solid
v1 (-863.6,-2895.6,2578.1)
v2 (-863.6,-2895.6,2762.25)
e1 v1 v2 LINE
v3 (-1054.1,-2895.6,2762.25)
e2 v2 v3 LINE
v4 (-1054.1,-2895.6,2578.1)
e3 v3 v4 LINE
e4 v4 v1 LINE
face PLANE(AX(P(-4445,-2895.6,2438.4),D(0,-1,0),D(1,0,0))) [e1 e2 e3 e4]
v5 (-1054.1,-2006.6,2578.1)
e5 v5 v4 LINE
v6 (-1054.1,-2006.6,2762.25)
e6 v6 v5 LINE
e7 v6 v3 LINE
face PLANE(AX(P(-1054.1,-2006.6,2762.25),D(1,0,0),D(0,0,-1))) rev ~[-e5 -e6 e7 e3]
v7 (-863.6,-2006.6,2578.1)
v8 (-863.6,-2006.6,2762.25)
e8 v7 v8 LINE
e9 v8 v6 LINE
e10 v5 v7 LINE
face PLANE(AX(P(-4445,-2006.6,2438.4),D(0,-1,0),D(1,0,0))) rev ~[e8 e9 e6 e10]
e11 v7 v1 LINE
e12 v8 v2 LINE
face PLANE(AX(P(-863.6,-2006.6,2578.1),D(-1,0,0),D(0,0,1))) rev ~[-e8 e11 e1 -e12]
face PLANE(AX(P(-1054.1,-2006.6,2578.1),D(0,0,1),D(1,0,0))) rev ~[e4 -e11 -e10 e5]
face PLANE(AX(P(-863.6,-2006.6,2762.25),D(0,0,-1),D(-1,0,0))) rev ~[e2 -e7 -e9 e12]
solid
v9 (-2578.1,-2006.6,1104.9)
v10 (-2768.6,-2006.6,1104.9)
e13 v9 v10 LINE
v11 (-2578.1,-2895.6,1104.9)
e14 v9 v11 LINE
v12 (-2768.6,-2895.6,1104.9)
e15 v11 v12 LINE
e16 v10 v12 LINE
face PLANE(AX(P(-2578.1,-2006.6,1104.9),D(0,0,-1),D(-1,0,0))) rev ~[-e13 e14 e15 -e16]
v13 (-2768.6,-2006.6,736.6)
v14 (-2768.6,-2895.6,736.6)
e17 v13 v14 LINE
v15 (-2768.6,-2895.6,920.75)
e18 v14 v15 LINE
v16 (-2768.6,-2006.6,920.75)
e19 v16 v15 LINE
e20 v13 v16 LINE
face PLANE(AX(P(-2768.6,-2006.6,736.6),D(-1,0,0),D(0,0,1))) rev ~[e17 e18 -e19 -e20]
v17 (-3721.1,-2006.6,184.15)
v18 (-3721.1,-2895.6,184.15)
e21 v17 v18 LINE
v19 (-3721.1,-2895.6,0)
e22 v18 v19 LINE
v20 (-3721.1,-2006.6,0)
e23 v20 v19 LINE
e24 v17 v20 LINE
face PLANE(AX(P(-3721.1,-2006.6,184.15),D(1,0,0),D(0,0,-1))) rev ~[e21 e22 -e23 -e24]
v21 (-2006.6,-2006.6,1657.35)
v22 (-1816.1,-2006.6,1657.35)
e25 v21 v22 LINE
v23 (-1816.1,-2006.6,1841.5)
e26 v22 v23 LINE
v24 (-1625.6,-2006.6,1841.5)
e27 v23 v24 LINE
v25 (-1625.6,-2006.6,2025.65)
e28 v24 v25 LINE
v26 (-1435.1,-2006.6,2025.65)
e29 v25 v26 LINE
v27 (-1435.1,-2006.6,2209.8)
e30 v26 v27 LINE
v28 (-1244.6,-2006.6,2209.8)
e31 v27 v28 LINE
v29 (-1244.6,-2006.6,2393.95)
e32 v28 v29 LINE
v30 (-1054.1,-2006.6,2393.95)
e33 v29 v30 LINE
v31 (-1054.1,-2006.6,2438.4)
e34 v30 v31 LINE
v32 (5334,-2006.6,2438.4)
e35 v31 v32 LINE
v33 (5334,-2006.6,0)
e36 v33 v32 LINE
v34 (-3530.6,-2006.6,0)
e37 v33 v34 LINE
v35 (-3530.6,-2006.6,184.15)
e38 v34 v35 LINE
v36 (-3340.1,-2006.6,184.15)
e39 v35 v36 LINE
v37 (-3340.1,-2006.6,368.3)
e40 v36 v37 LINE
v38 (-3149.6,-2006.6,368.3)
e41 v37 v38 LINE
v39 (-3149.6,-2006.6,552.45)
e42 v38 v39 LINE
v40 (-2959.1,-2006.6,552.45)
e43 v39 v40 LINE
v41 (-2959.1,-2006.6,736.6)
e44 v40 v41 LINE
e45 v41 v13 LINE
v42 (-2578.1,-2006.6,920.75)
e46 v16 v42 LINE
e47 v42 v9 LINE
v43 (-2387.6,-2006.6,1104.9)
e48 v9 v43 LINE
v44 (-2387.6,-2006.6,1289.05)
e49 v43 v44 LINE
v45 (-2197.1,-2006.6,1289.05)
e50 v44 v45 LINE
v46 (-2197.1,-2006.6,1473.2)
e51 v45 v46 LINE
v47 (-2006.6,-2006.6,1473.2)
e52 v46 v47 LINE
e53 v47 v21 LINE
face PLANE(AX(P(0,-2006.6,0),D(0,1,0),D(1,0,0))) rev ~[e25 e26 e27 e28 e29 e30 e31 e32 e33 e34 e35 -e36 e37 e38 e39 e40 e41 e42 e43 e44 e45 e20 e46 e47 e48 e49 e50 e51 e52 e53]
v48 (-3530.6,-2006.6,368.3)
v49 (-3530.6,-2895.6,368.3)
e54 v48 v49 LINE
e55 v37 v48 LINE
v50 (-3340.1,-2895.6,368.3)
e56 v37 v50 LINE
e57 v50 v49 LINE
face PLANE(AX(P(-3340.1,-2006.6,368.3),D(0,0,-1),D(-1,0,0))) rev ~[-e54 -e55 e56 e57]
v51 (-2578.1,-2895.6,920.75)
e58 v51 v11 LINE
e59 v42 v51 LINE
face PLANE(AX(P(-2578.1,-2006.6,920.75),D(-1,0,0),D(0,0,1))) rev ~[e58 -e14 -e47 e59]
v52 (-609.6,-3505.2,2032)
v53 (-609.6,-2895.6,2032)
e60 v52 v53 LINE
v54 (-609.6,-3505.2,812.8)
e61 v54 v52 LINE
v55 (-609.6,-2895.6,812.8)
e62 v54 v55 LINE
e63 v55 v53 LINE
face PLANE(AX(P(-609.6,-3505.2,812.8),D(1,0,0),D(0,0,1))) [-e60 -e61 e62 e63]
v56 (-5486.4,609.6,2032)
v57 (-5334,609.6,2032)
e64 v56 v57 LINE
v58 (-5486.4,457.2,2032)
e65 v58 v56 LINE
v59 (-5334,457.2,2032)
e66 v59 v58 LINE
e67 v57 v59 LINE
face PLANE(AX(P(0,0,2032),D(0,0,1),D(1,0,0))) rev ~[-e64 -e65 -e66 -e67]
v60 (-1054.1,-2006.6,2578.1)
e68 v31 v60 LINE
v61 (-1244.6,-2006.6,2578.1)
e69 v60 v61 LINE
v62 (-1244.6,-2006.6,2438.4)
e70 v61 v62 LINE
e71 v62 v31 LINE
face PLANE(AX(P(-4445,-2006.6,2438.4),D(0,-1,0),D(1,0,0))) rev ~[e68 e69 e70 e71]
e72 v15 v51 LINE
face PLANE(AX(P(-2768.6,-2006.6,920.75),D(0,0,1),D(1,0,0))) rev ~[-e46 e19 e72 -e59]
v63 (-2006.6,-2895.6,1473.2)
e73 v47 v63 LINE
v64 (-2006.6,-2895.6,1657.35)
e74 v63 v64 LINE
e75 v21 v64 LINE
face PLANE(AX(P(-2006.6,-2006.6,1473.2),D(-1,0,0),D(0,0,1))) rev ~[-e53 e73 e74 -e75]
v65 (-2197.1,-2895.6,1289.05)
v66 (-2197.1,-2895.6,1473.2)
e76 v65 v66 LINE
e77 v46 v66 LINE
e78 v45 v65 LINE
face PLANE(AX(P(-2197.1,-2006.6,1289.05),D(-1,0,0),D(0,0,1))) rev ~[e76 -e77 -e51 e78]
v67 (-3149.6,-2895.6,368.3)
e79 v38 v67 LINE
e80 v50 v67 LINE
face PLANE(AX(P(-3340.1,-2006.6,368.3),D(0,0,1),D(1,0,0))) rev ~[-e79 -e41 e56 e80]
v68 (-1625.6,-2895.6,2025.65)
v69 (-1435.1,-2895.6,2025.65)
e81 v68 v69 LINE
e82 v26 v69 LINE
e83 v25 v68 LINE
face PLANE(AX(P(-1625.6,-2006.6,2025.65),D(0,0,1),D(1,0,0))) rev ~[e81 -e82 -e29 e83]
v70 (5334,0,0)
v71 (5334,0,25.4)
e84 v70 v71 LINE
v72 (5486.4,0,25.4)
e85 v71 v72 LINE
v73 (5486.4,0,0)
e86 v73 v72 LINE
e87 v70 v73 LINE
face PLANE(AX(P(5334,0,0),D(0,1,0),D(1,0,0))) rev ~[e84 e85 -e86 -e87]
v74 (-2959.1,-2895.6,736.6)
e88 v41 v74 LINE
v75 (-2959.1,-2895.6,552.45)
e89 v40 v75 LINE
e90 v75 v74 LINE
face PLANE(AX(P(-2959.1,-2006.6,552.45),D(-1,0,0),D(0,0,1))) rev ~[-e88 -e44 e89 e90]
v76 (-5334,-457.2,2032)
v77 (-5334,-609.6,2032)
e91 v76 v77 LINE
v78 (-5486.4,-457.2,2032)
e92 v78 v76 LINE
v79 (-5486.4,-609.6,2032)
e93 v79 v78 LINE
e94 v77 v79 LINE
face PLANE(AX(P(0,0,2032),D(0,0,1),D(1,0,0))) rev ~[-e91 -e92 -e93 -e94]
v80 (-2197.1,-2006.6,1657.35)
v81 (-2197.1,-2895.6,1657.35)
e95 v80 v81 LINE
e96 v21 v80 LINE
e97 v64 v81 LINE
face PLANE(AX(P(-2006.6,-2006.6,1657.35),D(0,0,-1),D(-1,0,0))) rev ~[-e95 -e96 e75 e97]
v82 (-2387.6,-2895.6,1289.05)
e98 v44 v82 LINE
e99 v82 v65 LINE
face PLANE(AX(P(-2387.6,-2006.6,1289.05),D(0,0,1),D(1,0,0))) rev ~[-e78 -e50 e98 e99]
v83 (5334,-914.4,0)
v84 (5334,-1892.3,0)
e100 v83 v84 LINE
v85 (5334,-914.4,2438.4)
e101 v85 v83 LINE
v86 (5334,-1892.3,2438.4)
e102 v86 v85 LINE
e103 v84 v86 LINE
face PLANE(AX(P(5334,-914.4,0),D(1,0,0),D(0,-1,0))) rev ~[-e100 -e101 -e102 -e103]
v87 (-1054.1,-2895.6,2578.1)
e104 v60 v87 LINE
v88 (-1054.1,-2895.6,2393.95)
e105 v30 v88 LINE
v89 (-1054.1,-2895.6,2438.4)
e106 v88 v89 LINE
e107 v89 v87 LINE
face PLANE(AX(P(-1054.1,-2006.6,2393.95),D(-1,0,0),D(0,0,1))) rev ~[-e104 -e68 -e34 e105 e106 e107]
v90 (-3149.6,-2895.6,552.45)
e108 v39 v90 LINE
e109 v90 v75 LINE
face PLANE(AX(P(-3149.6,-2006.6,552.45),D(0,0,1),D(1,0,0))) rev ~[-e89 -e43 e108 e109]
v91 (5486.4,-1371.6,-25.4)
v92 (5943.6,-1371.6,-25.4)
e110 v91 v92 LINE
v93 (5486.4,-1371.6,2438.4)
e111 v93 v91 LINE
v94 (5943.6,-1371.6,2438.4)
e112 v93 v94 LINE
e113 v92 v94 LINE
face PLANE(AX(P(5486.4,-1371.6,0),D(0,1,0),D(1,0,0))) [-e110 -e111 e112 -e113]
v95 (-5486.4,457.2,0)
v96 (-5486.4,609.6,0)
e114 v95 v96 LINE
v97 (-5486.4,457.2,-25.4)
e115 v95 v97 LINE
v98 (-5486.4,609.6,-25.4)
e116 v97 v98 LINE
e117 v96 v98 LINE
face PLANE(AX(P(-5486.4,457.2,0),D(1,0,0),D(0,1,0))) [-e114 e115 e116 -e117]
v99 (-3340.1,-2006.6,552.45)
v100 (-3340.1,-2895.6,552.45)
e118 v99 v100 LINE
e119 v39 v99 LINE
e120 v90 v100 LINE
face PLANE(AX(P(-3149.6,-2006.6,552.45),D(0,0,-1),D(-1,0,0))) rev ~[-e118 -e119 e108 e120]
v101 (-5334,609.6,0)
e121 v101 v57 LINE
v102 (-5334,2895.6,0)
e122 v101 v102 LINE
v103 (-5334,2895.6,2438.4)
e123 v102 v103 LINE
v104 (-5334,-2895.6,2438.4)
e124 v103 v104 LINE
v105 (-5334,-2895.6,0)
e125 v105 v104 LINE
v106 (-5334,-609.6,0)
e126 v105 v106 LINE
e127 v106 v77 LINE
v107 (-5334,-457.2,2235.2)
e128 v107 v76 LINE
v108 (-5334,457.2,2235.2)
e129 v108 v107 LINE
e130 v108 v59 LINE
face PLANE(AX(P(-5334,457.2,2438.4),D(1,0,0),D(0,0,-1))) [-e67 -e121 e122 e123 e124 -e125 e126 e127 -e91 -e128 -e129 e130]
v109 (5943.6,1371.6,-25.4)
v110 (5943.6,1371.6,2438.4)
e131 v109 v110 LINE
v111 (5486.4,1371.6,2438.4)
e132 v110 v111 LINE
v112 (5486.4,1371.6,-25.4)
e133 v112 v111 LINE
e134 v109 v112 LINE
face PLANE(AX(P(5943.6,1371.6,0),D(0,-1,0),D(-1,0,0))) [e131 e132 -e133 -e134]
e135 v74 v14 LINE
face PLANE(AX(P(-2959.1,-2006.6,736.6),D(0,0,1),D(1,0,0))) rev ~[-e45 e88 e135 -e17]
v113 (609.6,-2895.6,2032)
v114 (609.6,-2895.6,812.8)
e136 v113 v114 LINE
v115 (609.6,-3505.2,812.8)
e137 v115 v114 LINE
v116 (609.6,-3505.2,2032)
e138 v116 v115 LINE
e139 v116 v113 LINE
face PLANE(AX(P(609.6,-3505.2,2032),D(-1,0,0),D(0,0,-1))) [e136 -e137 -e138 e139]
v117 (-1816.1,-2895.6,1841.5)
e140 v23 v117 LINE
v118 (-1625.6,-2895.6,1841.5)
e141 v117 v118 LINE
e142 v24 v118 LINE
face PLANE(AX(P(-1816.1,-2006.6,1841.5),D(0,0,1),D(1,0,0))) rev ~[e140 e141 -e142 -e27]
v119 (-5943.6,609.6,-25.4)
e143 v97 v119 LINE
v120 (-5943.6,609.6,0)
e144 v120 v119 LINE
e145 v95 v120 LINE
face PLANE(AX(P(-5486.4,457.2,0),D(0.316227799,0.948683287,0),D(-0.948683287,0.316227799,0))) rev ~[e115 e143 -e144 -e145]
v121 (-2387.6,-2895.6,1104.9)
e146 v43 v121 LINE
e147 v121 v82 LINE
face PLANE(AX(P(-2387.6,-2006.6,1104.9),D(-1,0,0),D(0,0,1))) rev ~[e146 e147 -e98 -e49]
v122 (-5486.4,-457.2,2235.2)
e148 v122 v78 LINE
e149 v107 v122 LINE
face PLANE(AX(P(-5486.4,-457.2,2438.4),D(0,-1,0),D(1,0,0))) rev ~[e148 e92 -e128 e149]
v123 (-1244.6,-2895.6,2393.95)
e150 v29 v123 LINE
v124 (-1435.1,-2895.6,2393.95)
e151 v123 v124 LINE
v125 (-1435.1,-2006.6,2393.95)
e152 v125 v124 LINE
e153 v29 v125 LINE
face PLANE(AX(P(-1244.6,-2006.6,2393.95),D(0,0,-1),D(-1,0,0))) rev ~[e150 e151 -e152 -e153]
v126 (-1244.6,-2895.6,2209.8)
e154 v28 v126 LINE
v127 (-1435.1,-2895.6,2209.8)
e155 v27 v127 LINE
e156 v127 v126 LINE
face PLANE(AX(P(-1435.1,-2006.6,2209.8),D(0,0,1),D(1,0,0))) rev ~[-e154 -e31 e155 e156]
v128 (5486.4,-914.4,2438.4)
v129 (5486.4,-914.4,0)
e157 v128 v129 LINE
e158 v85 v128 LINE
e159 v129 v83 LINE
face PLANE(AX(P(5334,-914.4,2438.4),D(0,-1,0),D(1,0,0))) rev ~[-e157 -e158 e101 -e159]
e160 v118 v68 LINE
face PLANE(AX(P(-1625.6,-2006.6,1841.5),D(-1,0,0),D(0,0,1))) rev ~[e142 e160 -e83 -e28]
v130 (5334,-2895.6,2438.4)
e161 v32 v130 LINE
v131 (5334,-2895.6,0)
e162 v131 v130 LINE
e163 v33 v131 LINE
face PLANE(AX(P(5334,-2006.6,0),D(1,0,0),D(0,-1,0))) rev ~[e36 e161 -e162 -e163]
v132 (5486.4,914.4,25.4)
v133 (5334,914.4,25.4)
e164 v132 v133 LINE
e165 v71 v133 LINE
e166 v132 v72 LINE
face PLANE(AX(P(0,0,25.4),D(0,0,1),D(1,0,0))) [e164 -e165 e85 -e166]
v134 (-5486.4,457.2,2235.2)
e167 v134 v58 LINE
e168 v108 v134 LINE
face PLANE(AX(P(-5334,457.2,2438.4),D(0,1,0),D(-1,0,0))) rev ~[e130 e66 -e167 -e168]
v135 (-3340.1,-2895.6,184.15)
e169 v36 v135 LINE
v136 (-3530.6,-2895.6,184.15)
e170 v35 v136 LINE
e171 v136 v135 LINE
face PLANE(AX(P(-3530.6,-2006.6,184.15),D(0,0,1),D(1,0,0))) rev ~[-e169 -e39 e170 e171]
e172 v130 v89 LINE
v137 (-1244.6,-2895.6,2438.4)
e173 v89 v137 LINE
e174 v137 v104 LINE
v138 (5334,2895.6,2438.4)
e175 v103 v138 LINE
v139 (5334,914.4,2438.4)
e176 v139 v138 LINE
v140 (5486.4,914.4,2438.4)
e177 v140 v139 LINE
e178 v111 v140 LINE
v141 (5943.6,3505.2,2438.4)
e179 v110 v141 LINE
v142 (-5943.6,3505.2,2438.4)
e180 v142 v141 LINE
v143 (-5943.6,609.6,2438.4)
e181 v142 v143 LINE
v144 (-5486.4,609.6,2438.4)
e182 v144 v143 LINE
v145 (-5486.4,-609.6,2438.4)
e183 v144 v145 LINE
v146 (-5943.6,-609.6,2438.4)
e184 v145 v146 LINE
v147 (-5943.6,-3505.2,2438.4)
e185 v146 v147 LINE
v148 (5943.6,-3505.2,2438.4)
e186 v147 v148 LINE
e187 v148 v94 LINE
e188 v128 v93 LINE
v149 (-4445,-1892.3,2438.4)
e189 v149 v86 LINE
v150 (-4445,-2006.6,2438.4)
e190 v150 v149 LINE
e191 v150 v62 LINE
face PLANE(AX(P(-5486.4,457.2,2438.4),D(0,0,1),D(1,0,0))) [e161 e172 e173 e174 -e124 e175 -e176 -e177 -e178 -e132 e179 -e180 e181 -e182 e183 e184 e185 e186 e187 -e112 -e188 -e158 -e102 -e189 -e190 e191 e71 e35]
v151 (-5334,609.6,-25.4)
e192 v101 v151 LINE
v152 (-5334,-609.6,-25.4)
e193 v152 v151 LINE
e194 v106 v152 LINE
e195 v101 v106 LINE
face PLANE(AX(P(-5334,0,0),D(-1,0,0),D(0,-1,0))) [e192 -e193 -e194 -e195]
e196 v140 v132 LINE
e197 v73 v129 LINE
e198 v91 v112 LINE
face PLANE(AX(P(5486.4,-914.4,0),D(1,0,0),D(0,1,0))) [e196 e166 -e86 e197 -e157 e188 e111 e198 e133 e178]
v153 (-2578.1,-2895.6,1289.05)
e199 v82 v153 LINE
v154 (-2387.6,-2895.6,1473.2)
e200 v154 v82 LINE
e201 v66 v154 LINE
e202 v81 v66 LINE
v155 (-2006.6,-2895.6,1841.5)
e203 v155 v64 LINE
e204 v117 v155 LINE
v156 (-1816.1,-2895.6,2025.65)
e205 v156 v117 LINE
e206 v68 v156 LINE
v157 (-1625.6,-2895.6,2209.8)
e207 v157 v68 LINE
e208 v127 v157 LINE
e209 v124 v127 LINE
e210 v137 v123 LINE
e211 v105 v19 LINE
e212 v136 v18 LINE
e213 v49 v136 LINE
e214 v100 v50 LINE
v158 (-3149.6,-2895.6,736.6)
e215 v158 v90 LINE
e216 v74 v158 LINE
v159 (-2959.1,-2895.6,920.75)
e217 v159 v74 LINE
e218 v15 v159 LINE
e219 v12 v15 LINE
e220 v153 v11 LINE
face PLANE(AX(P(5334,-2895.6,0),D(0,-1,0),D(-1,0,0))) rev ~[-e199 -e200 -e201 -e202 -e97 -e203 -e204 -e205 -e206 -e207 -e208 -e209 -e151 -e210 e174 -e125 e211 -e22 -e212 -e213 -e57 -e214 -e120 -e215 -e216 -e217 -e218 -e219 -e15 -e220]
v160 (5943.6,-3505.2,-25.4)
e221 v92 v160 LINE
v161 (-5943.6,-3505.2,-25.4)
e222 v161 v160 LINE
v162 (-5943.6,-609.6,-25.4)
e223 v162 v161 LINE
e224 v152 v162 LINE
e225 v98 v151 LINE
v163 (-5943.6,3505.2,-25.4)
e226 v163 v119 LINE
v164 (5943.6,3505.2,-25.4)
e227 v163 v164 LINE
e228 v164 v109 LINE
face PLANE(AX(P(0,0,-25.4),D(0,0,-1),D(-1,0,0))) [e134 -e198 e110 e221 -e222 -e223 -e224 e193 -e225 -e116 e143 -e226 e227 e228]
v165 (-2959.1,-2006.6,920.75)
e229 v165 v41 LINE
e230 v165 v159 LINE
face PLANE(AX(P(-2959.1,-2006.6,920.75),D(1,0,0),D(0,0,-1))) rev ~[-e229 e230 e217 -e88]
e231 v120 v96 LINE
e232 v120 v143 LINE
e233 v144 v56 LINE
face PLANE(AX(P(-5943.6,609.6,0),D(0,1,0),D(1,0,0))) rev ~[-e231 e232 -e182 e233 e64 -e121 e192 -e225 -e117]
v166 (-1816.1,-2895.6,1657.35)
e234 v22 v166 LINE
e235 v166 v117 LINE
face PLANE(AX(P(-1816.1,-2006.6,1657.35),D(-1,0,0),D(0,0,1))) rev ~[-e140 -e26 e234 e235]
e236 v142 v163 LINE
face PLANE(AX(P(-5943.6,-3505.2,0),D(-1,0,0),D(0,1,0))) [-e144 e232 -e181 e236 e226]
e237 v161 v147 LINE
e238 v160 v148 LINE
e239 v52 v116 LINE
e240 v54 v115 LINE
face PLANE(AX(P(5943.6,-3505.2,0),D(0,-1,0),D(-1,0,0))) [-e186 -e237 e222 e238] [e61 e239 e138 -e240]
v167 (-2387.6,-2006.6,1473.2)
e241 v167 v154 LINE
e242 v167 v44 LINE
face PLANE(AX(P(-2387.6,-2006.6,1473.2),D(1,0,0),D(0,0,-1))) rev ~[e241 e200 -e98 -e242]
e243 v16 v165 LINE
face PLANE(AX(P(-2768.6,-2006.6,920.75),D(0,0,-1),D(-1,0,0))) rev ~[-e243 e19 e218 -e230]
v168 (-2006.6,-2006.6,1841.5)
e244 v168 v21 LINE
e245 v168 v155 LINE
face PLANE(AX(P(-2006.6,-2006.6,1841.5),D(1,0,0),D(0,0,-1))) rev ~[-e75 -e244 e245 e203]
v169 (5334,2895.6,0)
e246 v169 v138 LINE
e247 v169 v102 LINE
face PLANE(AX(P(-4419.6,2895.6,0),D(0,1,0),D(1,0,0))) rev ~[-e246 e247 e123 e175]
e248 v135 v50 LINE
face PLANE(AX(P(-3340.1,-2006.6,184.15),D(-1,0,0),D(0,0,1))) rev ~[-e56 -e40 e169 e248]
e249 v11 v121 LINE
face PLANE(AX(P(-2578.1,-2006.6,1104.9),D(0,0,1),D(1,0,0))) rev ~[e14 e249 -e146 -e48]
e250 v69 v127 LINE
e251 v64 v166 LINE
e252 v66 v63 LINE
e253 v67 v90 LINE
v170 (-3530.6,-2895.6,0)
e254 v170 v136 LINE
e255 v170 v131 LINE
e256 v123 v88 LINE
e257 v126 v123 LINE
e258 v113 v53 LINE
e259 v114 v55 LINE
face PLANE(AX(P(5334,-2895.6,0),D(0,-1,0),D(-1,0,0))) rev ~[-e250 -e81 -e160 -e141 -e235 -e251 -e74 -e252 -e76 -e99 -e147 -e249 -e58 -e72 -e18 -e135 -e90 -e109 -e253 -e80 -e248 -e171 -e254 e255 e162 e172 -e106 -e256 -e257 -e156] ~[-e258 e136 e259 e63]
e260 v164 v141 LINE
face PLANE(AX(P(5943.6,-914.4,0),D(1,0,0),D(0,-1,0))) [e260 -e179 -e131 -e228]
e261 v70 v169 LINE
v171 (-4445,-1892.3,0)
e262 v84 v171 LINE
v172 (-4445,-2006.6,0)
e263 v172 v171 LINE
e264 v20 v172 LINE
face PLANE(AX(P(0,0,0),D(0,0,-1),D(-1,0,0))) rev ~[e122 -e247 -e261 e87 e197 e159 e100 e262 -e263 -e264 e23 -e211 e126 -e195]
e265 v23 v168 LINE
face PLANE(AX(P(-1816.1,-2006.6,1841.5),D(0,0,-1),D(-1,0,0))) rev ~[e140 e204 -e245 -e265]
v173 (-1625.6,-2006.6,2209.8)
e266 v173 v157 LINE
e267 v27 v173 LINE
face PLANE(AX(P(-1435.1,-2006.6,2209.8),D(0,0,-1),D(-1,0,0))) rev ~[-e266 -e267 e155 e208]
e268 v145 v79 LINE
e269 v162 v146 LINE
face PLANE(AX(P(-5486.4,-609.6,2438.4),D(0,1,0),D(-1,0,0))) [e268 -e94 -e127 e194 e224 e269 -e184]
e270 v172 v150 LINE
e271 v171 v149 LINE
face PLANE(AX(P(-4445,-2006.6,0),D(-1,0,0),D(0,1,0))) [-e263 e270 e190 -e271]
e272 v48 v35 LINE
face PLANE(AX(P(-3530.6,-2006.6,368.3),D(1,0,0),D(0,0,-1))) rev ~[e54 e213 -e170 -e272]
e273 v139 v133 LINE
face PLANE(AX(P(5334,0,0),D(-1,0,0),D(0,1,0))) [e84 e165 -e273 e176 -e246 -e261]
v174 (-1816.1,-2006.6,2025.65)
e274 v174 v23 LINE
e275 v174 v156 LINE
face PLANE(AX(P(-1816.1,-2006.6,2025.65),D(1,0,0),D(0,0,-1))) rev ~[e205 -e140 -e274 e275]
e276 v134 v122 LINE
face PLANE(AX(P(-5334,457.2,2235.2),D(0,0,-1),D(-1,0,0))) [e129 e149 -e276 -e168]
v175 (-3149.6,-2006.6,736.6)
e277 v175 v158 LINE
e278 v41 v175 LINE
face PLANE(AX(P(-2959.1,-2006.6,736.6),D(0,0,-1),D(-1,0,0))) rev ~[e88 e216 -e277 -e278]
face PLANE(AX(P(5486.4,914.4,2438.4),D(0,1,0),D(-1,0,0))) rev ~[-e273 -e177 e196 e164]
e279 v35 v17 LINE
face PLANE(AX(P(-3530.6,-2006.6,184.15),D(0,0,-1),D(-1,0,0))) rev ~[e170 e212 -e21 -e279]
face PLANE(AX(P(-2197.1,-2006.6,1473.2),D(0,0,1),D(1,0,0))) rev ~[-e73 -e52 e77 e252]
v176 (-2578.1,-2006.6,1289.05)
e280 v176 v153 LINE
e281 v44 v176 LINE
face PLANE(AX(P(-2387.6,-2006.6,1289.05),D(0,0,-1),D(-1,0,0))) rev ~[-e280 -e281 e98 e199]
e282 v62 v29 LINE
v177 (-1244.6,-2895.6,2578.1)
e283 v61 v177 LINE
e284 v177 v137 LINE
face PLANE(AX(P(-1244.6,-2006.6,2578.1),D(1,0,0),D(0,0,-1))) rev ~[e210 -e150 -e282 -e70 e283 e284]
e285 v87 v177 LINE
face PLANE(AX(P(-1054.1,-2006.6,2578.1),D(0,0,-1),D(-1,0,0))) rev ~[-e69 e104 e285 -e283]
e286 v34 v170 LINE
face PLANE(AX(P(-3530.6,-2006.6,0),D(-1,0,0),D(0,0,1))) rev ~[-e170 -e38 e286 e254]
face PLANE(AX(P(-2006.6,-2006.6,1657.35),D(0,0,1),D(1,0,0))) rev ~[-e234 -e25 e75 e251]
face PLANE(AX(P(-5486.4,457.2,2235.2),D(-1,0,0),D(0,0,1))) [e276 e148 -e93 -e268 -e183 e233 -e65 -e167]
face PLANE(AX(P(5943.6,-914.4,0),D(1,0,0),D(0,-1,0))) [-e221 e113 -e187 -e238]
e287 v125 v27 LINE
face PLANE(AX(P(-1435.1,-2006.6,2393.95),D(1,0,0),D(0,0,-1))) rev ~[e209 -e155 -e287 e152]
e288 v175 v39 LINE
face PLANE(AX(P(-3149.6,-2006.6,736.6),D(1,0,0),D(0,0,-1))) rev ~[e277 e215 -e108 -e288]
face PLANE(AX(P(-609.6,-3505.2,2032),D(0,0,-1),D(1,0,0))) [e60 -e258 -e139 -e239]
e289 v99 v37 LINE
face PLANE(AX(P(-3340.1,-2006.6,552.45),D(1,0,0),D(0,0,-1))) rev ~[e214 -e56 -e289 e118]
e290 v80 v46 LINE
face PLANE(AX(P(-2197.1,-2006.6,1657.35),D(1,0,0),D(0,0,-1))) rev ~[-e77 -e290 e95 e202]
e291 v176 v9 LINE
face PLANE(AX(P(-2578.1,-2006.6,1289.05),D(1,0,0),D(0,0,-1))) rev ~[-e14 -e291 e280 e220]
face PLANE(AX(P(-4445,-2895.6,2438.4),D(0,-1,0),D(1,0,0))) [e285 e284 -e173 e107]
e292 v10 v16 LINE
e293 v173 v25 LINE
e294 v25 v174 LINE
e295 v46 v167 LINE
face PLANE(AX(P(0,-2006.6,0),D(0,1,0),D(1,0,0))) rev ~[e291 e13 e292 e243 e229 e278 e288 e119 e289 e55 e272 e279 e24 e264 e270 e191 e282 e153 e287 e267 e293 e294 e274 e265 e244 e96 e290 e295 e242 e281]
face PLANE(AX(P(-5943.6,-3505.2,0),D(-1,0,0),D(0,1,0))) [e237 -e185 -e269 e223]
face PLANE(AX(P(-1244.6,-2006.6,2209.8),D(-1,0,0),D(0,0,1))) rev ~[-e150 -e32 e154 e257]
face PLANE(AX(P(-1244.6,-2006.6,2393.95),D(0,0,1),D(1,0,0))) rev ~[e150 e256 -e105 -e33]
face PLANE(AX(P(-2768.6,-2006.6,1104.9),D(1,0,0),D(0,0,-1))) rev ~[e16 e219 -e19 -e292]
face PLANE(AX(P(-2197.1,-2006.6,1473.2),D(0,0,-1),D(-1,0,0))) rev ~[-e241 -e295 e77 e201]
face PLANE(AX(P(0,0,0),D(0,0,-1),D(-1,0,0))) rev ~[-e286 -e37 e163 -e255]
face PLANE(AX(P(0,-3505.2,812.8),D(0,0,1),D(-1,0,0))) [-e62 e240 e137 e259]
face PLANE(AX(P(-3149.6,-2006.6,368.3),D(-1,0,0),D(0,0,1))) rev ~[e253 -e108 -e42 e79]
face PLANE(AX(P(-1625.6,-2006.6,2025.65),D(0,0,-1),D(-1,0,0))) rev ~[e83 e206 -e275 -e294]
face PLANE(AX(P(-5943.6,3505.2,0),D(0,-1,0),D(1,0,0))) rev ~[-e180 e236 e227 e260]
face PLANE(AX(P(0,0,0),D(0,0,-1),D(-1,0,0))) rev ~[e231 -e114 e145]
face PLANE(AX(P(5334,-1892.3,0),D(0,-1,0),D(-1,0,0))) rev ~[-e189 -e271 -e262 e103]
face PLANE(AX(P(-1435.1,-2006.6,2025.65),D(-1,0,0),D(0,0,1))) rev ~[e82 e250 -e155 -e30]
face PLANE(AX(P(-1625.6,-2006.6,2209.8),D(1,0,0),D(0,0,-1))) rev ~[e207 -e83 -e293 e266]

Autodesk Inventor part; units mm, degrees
ref_plane "YZ Plane" through (0, 0, 0) normal (1, 0, 0) x (0, 1, 0)
ref_plane "XZ Plane" through (0, 0, 0) normal (0, 1, 0) x (-1, 0, 0)
ref_plane "XY Plane" through (0, 0, 0) normal (0, 0, 1) x (1, 0, 0)
sketch "Sketch1" plane through (0, 0, 0) normal (0, 0, 1) x (1, 0, 0)
  line L0 (-8321.04, 0) -> (8321.04, 0) projected
  line L1 (-5943.6, 3505.2) -> (5943.6, 3505.2)
  line L2 (-5334, 2895.6) -> (5334, 2895.6)
  line L3 (-4572, 2895.6) -> (-4419.6, 2895.6)
  line L4 (-1981.2, -2006.6) -> (-4445, -2006.6)
  line L5 (-4445, -2006.6) -> (-4445, -1892.3)
  line L6 (-1219.2, -2895.6) -> (-1066.8, -2895.6)
  line L7 (5334, -2895.6) -> (0, -2895.6)
  line L8 (0, -2895.6) -> (-5334, -2895.6)
  line L9 (5943.6, -3505.2) -> (0, -3505.2)
  line L10 (0, -3505.2) -> (-5943.6, -3505.2)
  line L11 (5334, 914.4) -> (5943.6, 914.4)
  line L12 (5943.6, -914.4) -> (5334, -914.4)
  line L13 (5334, 2895.6) -> (5334, 914.4)
  line L14 (5334, -914.4) -> (5334, -2895.6)
  line L15 (5943.6, 3505.2) -> (5943.6, 914.4)
  line L16 (5943.6, -914.4) -> (5943.6, -3505.2)
  line L17 (-4445, -2006.6) -> (5334, -2006.6)
  line L18 (5334, -1892.3) -> (-4445, -1892.3)
  line L19 (-4445, -1892.3) -> (-4445, -2006.6)
  line L20 (5334, -1892.3) -> (5334, -2006.6)
  line L21 (-5943.6, 609.6) -> (-5334, 609.6)
  line L22 (-5334, -609.6) -> (-5943.6, -609.6)
  line L23 (-5943.6, -3505.2) -> (-5943.6, -609.6)
  line L24 (-5943.6, 609.6) -> (-5943.6, 3505.2)
  line L25 (-5334, -2895.6) -> (-5334, -609.6)
  line L26 (-5334, 609.6) -> (-5334, 2895.6)
  line L27 (-4445, -2006.6) -> (-4419.6, -2006.6)
  line L28 (-4419.6, 2895.6) -> (-4572, 2895.6)
  line L29 (-4445, -1892.3) -> (-4445, -2006.6)
  line L30 (0, -4907.28) -> (0, 4907.28) projected
  dimension "d18" = 7010.4
  dimension "d19" = 609.6
  dimension "d20" = 609.6
  dimension "d23" = 1828.8
  dimension "d24" = 2590.8
  dimension "d25" = 609.6
  dimension "d28" = 114.3
  dimension "d29" = 0
  dimension "d34" = 1219.2
  dimension "d35" = 2895.6
  dimension "d36" = 609.6
  dimension "d46" = 889
  dimension "d105" = 889
  dimension "d106" = 11887.2
extrude "Extrusion9" add sketch "Sketch1" along normal blind 2438.4 contours L18 L14 L17 L30 | L30 L17 L4 L5 L18 | L1 L30 L2 L26 L21 L24 | L1 L15 L11 L13 L2 L30 | L14 L12 L16 L9 L30 L7 | L30 L10 L23 L22 L25 L8 L6
sketch "Sketch8" plane through (0, 0, 0) normal (0, 0, -1) x (-1, 0, 0)
  line L0 (5943.6, 3505.2) -> (-5943.6, 3505.2) projected
  line L1 (-5943.6, 3505.2) -> (-5943.6, 914.4) projected
  line L2 (-5943.6, 914.4) -> (-5334, 914.4) projected
  line L3 (-5334, 914.4) -> (-5334, 2895.6) projected
  line L4 (-5334, 2895.6) -> (5334, 2895.6) projected
  line L5 (5334, 2895.6) -> (5334, 609.6) projected
  line L6 (5334, 609.6) -> (5943.6, 609.6) projected
  line L7 (5943.6, 609.6) -> (5943.6, 3505.2) projected
  line L8 (-5943.6, 3505.2) -> (5943.6, 3505.2)
  line L9 (5943.6, 3505.2) -> (5943.6, -3505.2)
  line L10 (5943.6, -3505.2) -> (-5943.6, -3505.2)
  line L11 (-5943.6, -3505.2) -> (-5943.6, 3505.2)
  point P0 (0, 0)
extrude "Extrusion10" add sketch "Sketch8" along normal blind 25.4
sketch "Sketch9" plane through (0, 0, 2438.4) normal (0, 0, 1) x (1, 0, 0)
  line L0 (5943.6, 3505.2) -> (-5943.6, 3505.2) projected
  line L1 (-5943.6, 3505.2) -> (-5943.6, 609.6) projected
  line L2 (-5943.6, 609.6) -> (-5334, 609.6) projected
  line L3 (-5334, 609.6) -> (-5334, 2895.6) projected
  line L4 (-5334, 2895.6) -> (5334, 2895.6) projected
  line L5 (5334, 2895.6) -> (5334, 914.4) projected
  line L6 (5334, 914.4) -> (5943.6, 914.4) projected
  line L7 (5943.6, 914.4) -> (5943.6, 3505.2) projected
  line L8 (-5943.6, 609.6) -> (-5334, 609.6)
  line L9 (-5334, 609.6) -> (-5334, -609.6)
  line L10 (-5334, -609.6) -> (-5943.6, -609.6)
  line L11 (-5943.6, -609.6) -> (-5943.6, 609.6)
  line L12 (5334, 914.4) -> (5943.6, 914.4)
  line L13 (5943.6, 914.4) -> (5943.6, -914.4)
  line L14 (5943.6, -914.4) -> (5334, -914.4)
  line L15 (5334, -914.4) -> (5334, 914.4)
  point P0 (0, 0)
extrude "Extrusion11" add sketch "Sketch9" against normal blind 406.4 contours L13 L14 L15 L6 | L2 L9 L10 L11
sketch "Sketch10" plane through (-4445, -2006.6, 2438.4) normal (0, -1, 0) x (1, 0, 0)
  line L0 (0, -2438.4) -> (9779, -2438.4) projected
  line L1 (0, -2438.4) -> (0, 0) projected
  line L2 (723.9, -2438.4) -> (914.4, -2438.4)
  line L3 (914.4, -2438.4) -> (914.4, -2254.25)
  line L4 (914.4, -2254.25) -> (723.9, -2254.25)
  line L5 (723.9, -2254.25) -> (723.9, -2438.4)
  line L6 (914.4, -2254.25) -> (1104.9, -2254.25)
  line L7 (1104.9, -2254.25) -> (1104.9, -2070.1)
  line L8 (1104.9, -2070.1) -> (914.4, -2070.1)
  line L9 (914.4, -2070.1) -> (914.4, -2254.25)
  line L10 (1104.9, -2070.1) -> (1295.4, -2070.1)
  line L11 (1295.4, -2070.1) -> (1295.4, -1885.95)
  line L12 (1295.4, -1885.95) -> (1104.9, -1885.95)
  line L13 (1104.9, -1885.95) -> (1104.9, -2070.1)
  line L14 (1295.4, -1885.95) -> (1485.9, -1885.95)
  line L15 (1485.9, -1885.95) -> (1485.9, -1701.8)
  line L16 (1485.9, -1701.8) -> (1295.4, -1701.8)
  line L17 (1295.4, -1701.8) -> (1295.4, -1885.95)
  line L18 (1485.9, -1701.8) -> (1676.4, -1701.8)
  line L19 (1676.4, -1701.8) -> (1676.4, -1517.65)
  line L20 (1676.4, -1517.65) -> (1485.9, -1517.65)
  line L21 (1485.9, -1517.65) -> (1485.9, -1701.8)
  line L22 (1676.4, -1517.65) -> (1866.9, -1517.65)
  line L23 (1866.9, -1517.65) -> (1866.9, -1333.5)
  line L24 (1866.9, -1333.5) -> (1676.4, -1333.5)
  line L25 (1676.4, -1333.5) -> (1676.4, -1517.65)
  line L26 (1866.9, -1333.5) -> (2057.4, -1333.5)
  line L27 (2057.4, -1333.5) -> (2057.4, -1149.35)
  line L28 (2057.4, -1149.35) -> (1866.9, -1149.35)
  line L29 (1866.9, -1149.35) -> (1866.9, -1333.5)
  line L30 (2438.4, -965.2) -> (2438.4, -781.05)
  line L31 (2247.9, -1149.35) -> (2247.9, -965.2)
  line L32 (2247.9, -965.2) -> (2438.4, -965.2)
  line L33 (2438.4, -781.05) -> (2247.9, -781.05)
  line L34 (2247.9, -781.05) -> (2247.9, -965.2)
  line L35 (2057.4, -1149.35) -> (2247.9, -1149.35)
  line L36 (2247.9, -965.2) -> (2057.4, -965.2)
  line L37 (2057.4, -965.2) -> (2057.4, -1149.35)
  line L38 (2628.9, -781.05) -> (2628.9, -596.9)
  line L39 (2438.4, -781.05) -> (2628.9, -781.05)
  line L40 (2628.9, -596.9) -> (2438.4, -596.9)
  line L41 (2438.4, -596.9) -> (2438.4, -781.05)
  line L42 (3200.4, -228.6) -> (3200.4, -44.45)
  line L43 (3200.4, 139.7) -> (3200.4, -44.45)
  line L44 (3200.4, -44.45) -> (3390.9, -44.45)
  line L45 (3390.9, 139.7) -> (3200.4, 139.7)
  line L46 (3009.9, -44.45) -> (3009.9, -228.6)
  line L47 (3009.9, -228.6) -> (3200.4, -228.6)
  line L48 (3200.4, -44.45) -> (3009.9, -44.45)
  line L49 (3390.9, -44.45) -> (3390.9, 139.7)
  line L50 (3009.9, -412.75) -> (3009.9, -228.6)
  line L51 (3009.9, -228.6) -> (2819.4, -228.6)
  line L52 (2819.4, -412.75) -> (3009.9, -412.75)
  line L53 (2819.4, -228.6) -> (2819.4, -412.75)
  line L54 (2819.4, -596.9) -> (2819.4, -412.75)
  line L55 (2819.4, -412.75) -> (2628.9, -412.75)
  line L56 (2628.9, -596.9) -> (2819.4, -596.9)
  line L57 (2628.9, -412.75) -> (2628.9, -596.9)
  line L58 (3390.9, 139.7) -> (3581.4, 139.7)
  line L59 (3581.4, 139.7) -> (3581.4, 323.85)
  line L60 (3581.4, 323.85) -> (3390.9, 323.85)
  line L61 (3390.9, 323.85) -> (3390.9, 139.7)
  point P0 (8445.5, -2438.4)
  point P1 (4445, -2438.4)
  dimension "d113" = 190.5
  dimension "d115" = 184.15
  dimension "d116" = 723.9
  dimension "d117" = 190.5
  dimension "d118" = 184.15
  dimension "d119" = 190.5
  dimension "d120" = 184.15
  dimension "d121" = 190.5
  dimension "d122" = 184.15
  dimension "d123" = 190.5
  dimension "d124" = 184.15
  dimension "d125" = 190.5
  dimension "d126" = 184.15
  dimension "d127" = 190.5
  dimension "d128" = 184.15
  dimension "d129" = 190.5
  dimension "d130" = 184.15
  dimension "d131" = 190.5
  dimension "d132" = 184.15
  dimension "d133" = 190.5
  dimension "d134" = 184.15
  dimension "d135" = 190.5
  dimension "d136" = 184.15
  dimension "d137" = 190.5
  dimension "d138" = 184.15
  dimension "d139" = 190.5
  dimension "d140" = 184.15
  dimension "d141" = 190.5
  dimension "d142" = 184.15
  dimension "d154" = 184.15
  dimension "d155" = 190.5
extrude "Extrusion12" add sketch "Sketch10" along normal up to surface (889 mm away)
sketch "Sketch11" plane through (-5943.6, -3505.2, 2438.4) normal (0, -1, 0) x (1, 0, 0)
  line L0 (5334, -406.4) -> (6553.2, -406.4)
  line L1 (6553.2, -406.4) -> (6553.2, -1625.6)
  line L2 (6553.2, -1625.6) -> (5334, -1625.6)
  line L3 (5334, -1625.6) -> (5334, -406.4)
  line L4 (11277.6, -2438.4) -> (2413, -2438.4) projected
  line L5 (5943.6, -2956.56) -> (5943.6, 492.76) projected
  point P0 (5943.6, -2438.4)
  dimension "d145" = 1219.2
  dimension "d147" = 1219.2
  dimension "d148" = 812.8
extrude "Extrusion13" cut sketch "Sketch11" against normal up to surface (609.6 mm away)
sketch "Sketch14" plane through (0, 0, 2032) normal (0, 0, -1) x (-1, 0, 0)
  line L0 (-5334, -914.4) -> (-5334, 914.4) projected
  line L1 (-5943.6, 914.4) -> (-5943.6, -914.4) projected
  line L2 (-8321.04, 0) -> (8321.04, 0) projected
  line L3 (-5943.6, 12.7) -> (-5334, 12.7)
  line L4 (-5334, 12.7) -> (-5334, -12.7)
  line L5 (-5334, -12.7) -> (-5943.6, -12.7)
  line L6 (-5943.6, -12.7) -> (-5943.6, 12.7)
  point P0 (0, 0)
  dimension "d156" = 25.4
extrude "Extrusion15" add sketch "Sketch14" along normal blind 25.4
sketch "Sketch15" plane through (0, 0, 0) normal (0, 0, 1) x (1, 0, 0)
  line L0 (5334, -914.4) -> (5334, -1892.3) projected
  line L1 (5943.6, -914.4) -> (5334, -914.4) projected
  line L2 (5943.6, 914.4) -> (5334, 914.4) projected
  line L3 (5334, 914.4) -> (5334, 2895.6) projected
  line L4 (-5334, 2895.6) -> (-5334, 609.6) projected
  line L5 (-5334, -609.6) -> (-5943.6, -609.6) projected
  line L6 (-3721.1, -2895.6) -> (-5334, -2895.6) projected
  line L7 (-8321.04, 0) -> (8321.04, 0) projected
  circle A0 centre (-1778, 0) radius 152.4
  circle A1 centre (1778, 0) radius 152.4
  line L8 (-4445, -2006.6) -> (-5334, -2006.6)
  line L9 (-5334, -2006.6) -> (-5334, -2895.6)
  line L10 (-5334, -2895.6) -> (-4445, -2895.6)
  line L11 (-4445, -2895.6) -> (-4445, -2006.6)
  circle A2 centre (-4889.5, -2451.1) radius 152.4
  circle A3 centre (-5334, 0) radius 152.4
  line L12 (-5118.1, -215.9) -> (-5549.9, -215.9)
  line L13 (-5549.9, -215.9) -> (-5549.9, 215.9)
  line L14 (-5549.9, 215.9) -> (-5118.1, -215.9)
  circle A4 centre (5334, 457.2) radius 152.4
  line L15 (5549.9, 241.3) -> (5118.1, 241.3)
  line L16 (5118.1, 241.3) -> (5118.1, 673.1)
  line L17 (5118.1, 673.1) -> (5549.9, 241.3)
  circle A5 centre (5334, -457.2) radius 152.4
  line L18 (5549.9, -673.1) -> (5118.1, -673.1)
  line L19 (5118.1, -241.3) -> (5549.9, -673.1)
  line L20 (5118.1, -673.1) -> (5118.1, -241.3)
  line L21 (-4713.5236, -2146.3) -> (-4537.5473, -2451.1)
  line L22 (-4537.5473, -2451.1) -> (-4713.5236, -2755.9)
  line L23 (-4713.5236, -2755.9) -> (-5065.4764, -2755.9)
  line L24 (-5065.4764, -2755.9) -> (-5241.4527, -2451.1)
  line L25 (-5241.4527, -2451.1) -> (-5065.4764, -2146.3)
  line L26 (-5065.4764, -2146.3) -> (-4713.5236, -2146.3)
  line L27 (-5943.6, -3505.2) -> (-5943.6, 3505.2) projected
  line L28 (-5334, -609.6) -> (-5943.6, -609.6)
  line L29 (-5943.6, -609.6) -> (-5943.6, 609.6)
  line L30 (-5943.6, 609.6) -> (-5334, 609.6)
  line L31 (-5334, 609.6) -> (-5334, -609.6)
  line L32 (-5486.4, 609.6) -> (-5334, 609.6)
  line L33 (-5334, 609.6) -> (-5334, 457.2)
  line L34 (-5334, 457.2) -> (-5486.4, 457.2)
  line L35 (-5486.4, 457.2) -> (-5486.4, 609.6)
  line L36 (-5334, -609.6) -> (-5486.4, -609.6)
  line L37 (-5486.4, -609.6) -> (-5486.4, -457.2)
  line L38 (-5486.4, -457.2) -> (-5334, -457.2)
  line L39 (-5334, -457.2) -> (-5334, -609.6)
  line L40 (5943.6, 3505.2) -> (5943.6, -3505.2) projected
  line L41 (5486.4, 914.4) -> (5943.6, 914.4)
  line L42 (5943.6, 914.4) -> (5943.6, 1371.6)
  line L43 (5943.6, 1371.6) -> (5486.4, 1371.6)
  line L44 (5486.4, 1371.6) -> (5486.4, 914.4)
  line L45 (5943.6, -914.4) -> (5486.4, -914.4)
  line L46 (5486.4, -914.4) -> (5486.4, -1371.6)
  line L47 (5486.4, -1371.6) -> (5943.6, -1371.6)
  line L48 (5943.6, -1371.6) -> (5943.6, -914.4)
  line L49 (5486.4, 914.4) -> (6132.9784, 1560.9784)
  line L50 (6132.9784, 1560.9784) -> (6240.7415, 1453.2154)
  line L51 (6240.7415, 1453.2154) -> (5594.1631, 806.6369)
  line L52 (5486.4, 914.4) -> (5594.1631, 806.6369)
  line L53 (5486.4, -914.4) -> (6132.9784, -1560.9784)
  line L54 (6132.9784, -1560.9784) -> (6240.7415, -1453.2154)
  line L55 (6240.7415, -1453.2154) -> (5594.1631, -806.6369)
  line L56 (5486.4, -914.4) -> (5594.1631, -806.6369)
  line L57 (5486.4, 1371.6) -> (5943.6, 1371.6)
  line L58 (5943.6, 1371.6) -> (5943.6, -1371.6)
  line L59 (5943.6, -1371.6) -> (5486.4, -1371.6)
  line L60 (5486.4, -1371.6) -> (5486.4, 1371.6)
  line L61 (-5486.4, 457.2) -> (-6353.876, 746.3587)
  line L62 (-6353.876, 746.3587) -> (-6402.0691, 601.7793)
  line L63 (-6402.0691, 601.7793) -> (-5534.5931, 312.6207)
  line L64 (-5486.4, 457.2) -> (-5534.5931, 312.6207)
  line L65 (5334, 914.4) -> (5486.4, 914.4)
  line L66 (5486.4, 914.4) -> (5486.4, 0)
  line L67 (5486.4, 0) -> (5334, 0)
  line L68 (5334, 0) -> (5334, 914.4)
  point P0 (0, 0)
  point P1 (1.5875, 1.5875)
  point P2 (770.0638, -2405.9824)
  point P3 (-4729.4618, 0)
  point P4 (5334, 457.2)
  point P5 (5334, -457.2)
  dimension "d161" = 304.8
  dimension "d163" = 304.8
  dimension "d164" = 3556
  dimension "d165" = 7112
  dimension "d166" = 304.8
  dimension "d167" = 444.5
  dimension "d168" = 444.5
  dimension "d169" = 304.8
  dimension "d172" = 431.8
  dimension "d173" = 431.8
  dimension "d174" = 215.9
  dimension "d175" = 304.8
  dimension "d176" = 431.8
  dimension "d177" = 431.8
  dimension "d178" = 215.9
  dimension "d179" = 304.8
  dimension "d180" = 431.8
  dimension "d181" = 431.8
  dimension "d182" = 215.9
  dimension "d183" = 457.2
  dimension "d184" = 457.2
  dimension "d185" = 609.6
  dimension "d192" = 152.4
  dimension "d193" = 152.4
  dimension "d194" = 152.4
  dimension "d195" = 457.2
  dimension "d196" = 457.2
  dimension "d197" = 457.2
  dimension "d198" = 457.2
  dimension "d199" = 914.4
  dimension "d200" = 152.4
  dimension "d215" = 152.4
  dimension "d216" = 914.4
extrude "Extrusion18" add sketch "Sketch15" along normal blind 25.4 contours L60 L19 L18 | L18 L20 L19 A5 L60 | L60 L17 L15 | L15 L68 A4 L17 L60 | L15 L16 L17 A4 L68 | L19 A5 | L68 L17 A4 | A4 L17 L68 picked at (5279.404, -461.4477) picked at (5392.7005, 374.4694) picked at (5251.2694, 515.9005)
extrude "Extrusion19" cut sketch "Sketch15" along normal up to surface (2438.4 mm away) contours L40 L55 L1 | L1 L55 L56 L60 L18 L19 L7 L40 | L55 L40 L53 L1 | L1 L56 L55 | L7 L60 L15 L17 L52 L51 L2 L40 | L53 L47 L46 | L2 L51 L40 | L60 L19 L18 | L60 L17 L15 | L51 L52 L2 | L2 L49 L40 L51 | L44 L43 L49
extrude "Extrusion20" add sketch "Sketch15" along normal blind 25.4 contours L60 L19 L18 | L18 L20 L19 A5 L60 | L60 L17 L15 | L15 L68 A4 L17 L60 | L15 L16 L17 A4 L68 | L19 A5 | L68 L17 A4 | A4 L17 L68 picked at (5279.404, -461.4477) picked at (5392.7005, 374.4694) picked at (5251.2694, 515.9005)
sketch "Sketch16" plane through (0, 0, 2438.4) normal (0, 0, 1) x (1, 0, 0)
  line L0 (5486.4, 914.4) -> (5334, 914.4) projected
  line L1 (5334, -914.4) -> (5486.4, -914.4) projected
  line L2 (5334, 914.4) -> (5486.4, 914.4)
  line L3 (5486.4, 914.4) -> (5486.4, -914.4)
  line L4 (5486.4, -914.4) -> (5334, -914.4)
  line L5 (5334, -914.4) -> (5334, 914.4)
  point P0 (0, 0)
extrude "Extrusion22" cut sketch "Sketch16" against normal up to surface (431.8 mm away)
sketch "Sketch17" plane through (0, 0, 2438.4) normal (0, 0, 1) x (1, 0, 0)
  line L0 (-5334, -2895.6) -> (-5334, 2895.6) projected
  line L1 (-5943.6, 3505.2) -> (-5943.6, -3505.2) projected
  line L2 (-5334, 609.6) -> (-5334, -609.6) projected
  line L3 (-5486.4, 457.2) -> (-5486.4, 609.6) projected
  line L4 (-5334, 457.2) -> (-5486.4, 457.2) projected
  line L5 (-5334, 609.6) -> (-5943.6, 609.6) projected
  line L6 (-5486.4, -457.2) -> (-5334, -457.2) projected
  line L7 (-5486.4, -609.6) -> (-5486.4, -457.2) projected
  line L8 (-5334, -609.6) -> (-5943.6, -609.6) projected
  point P0 (0, 0)
extrude "Extrusion23" cut sketch "Sketch17" against normal up to surface (406.4 mm away) contours L6 L7 L8 L1 L5 L3 L4 L0
sketch "Sketch18" plane through (-5486.4, 457.2, 2438.4) normal (0, -1, 0) x (1, 0, 0)
  line L0 (152.4, 0) -> (152.4, -406.4) projected
  line L1 (0, 0) -> (152.4, 0)
  line L2 (152.4, 0) -> (152.4, -203.2)
  line L3 (152.4, -203.2) -> (0, -203.2)
  line L4 (0, -203.2) -> (0, 0)
  point P0 (5486.4, -2438.4)
extrude "Extrusion24" add sketch "Sketch18" along normal up to surface (914.4 mm away)
extrude "Extrusion25" cut sketch "Sketch15" along normal blind 25.4 contours L60 L19 L18 | L18 L20 L19 A5 L60 | L60 L17 L15 | L15 L68 A4 L17 L60 | L15 L16 L17 A4 L68 | L19 A5 | L68 L17 A4 | A4 L17 L68 picked at (5279.404, -461.4477) picked at (5392.7005, 374.4694) picked at (5251.2694, 515.9005)
extrude "Extrusion28" add sketch "Sketch15" along normal blind 25.4 contours L7 L68 L15 L60 | L15 L68 A4 L17 L60 | L17 A4 L60 | L60 A4 L68 L2 | L68 L17 A4 | L17 L68 A4 picked at (5392.7005, 374.4694) picked at (5372.8195, 550.9185)
extrude "Extrusion29" cut sketch "Sketch15" against normal blind 25.4 contours L40 L55 L1 | L1 L55 L56 L60 L18 L19 L7 L40 | L55 L40 L53 L1 | L1 L56 L55 | L7 L60 L15 L17 L52 L51 L2 L40 | L53 L47 L46 | L2 L51 L40 | L60 L19 L18 | L60 L17 L15 | L51 L52 L2 | L2 L49 L40 L51 | L44 L43 L49
extrude "Extrusion30" cut sketch "Sketch15" against normal blind 25.4 contours L31 A3 L7 | L7 A3 L14 | L14 A3 L31 | A3 L14 L13 L7 L27 L63 L64 L34 L31 | A3 L31 L12 L13 L7 | L7 L13 L14 A3 | L34 L35 L30 L31 | L13 L12 L31 L38 L37 L5 L27 L7 | L64 L63 L27 L61 | L31 L5 L37 L38 picked at (-5362.0822, -97.4756) picked at (-5435.2806, 5.6878) picked at (-5383.0685, 88.7828)
sketch "Sketch12" plane through (0, 0, 2438.4) normal (0, 0, 1) x (1, 0, 0)
  line L0 (-5943.6, -3505.2) -> (5943.6, -3505.2) projected
  line L1 (5943.6, -3505.2) -> (5943.6, 3505.2) projected
  line L2 (5943.6, 3505.2) -> (-5943.6, 3505.2) projected
  line L3 (-5943.6, 3505.2) -> (5943.6, 3505.2)
  line L4 (5943.6, 3505.2) -> (5943.6, -2463.8)
  line L5 (5943.6, -2463.8) -> (-5943.6, -2463.8)
  line L6 (-5943.6, -2463.8) -> (-5943.6, 3505.2)
  line L7 (-1054.1, -2006.6) -> (5943.6, -2006.6)
  line L8 (5943.6, -2006.6) -> (5943.6, -3505.2)
  line L9 (5943.6, -3505.2) -> (-1054.1, -3505.2)
  line L10 (-1054.1, -3505.2) -> (-1054.1, -2006.6)
  line L11 (-5943.6, -2463.8) -> (-5181.6, -2463.8)
  line L12 (-5181.6, -2463.8) -> (-5181.6, -3505.2)
  line L13 (-5181.6, -3505.2) -> (-5943.6, -3505.2)
  line L14 (-5943.6, -3505.2) -> (-5943.6, -2463.8)
  line L15 (-1054.1, -2895.6) -> (-5943.6, -2895.6)
  line L16 (-5943.6, -2895.6) -> (-5943.6, -3505.2)
  line L17 (-5943.6, -3505.2) -> (-1054.1, -3505.2)
  line L18 (-1054.1, -3505.2) -> (-1054.1, -2895.6)
  point P0 (0, 0)
properties part number "West_Structure_Hose_Test_General_1st_Floor"
